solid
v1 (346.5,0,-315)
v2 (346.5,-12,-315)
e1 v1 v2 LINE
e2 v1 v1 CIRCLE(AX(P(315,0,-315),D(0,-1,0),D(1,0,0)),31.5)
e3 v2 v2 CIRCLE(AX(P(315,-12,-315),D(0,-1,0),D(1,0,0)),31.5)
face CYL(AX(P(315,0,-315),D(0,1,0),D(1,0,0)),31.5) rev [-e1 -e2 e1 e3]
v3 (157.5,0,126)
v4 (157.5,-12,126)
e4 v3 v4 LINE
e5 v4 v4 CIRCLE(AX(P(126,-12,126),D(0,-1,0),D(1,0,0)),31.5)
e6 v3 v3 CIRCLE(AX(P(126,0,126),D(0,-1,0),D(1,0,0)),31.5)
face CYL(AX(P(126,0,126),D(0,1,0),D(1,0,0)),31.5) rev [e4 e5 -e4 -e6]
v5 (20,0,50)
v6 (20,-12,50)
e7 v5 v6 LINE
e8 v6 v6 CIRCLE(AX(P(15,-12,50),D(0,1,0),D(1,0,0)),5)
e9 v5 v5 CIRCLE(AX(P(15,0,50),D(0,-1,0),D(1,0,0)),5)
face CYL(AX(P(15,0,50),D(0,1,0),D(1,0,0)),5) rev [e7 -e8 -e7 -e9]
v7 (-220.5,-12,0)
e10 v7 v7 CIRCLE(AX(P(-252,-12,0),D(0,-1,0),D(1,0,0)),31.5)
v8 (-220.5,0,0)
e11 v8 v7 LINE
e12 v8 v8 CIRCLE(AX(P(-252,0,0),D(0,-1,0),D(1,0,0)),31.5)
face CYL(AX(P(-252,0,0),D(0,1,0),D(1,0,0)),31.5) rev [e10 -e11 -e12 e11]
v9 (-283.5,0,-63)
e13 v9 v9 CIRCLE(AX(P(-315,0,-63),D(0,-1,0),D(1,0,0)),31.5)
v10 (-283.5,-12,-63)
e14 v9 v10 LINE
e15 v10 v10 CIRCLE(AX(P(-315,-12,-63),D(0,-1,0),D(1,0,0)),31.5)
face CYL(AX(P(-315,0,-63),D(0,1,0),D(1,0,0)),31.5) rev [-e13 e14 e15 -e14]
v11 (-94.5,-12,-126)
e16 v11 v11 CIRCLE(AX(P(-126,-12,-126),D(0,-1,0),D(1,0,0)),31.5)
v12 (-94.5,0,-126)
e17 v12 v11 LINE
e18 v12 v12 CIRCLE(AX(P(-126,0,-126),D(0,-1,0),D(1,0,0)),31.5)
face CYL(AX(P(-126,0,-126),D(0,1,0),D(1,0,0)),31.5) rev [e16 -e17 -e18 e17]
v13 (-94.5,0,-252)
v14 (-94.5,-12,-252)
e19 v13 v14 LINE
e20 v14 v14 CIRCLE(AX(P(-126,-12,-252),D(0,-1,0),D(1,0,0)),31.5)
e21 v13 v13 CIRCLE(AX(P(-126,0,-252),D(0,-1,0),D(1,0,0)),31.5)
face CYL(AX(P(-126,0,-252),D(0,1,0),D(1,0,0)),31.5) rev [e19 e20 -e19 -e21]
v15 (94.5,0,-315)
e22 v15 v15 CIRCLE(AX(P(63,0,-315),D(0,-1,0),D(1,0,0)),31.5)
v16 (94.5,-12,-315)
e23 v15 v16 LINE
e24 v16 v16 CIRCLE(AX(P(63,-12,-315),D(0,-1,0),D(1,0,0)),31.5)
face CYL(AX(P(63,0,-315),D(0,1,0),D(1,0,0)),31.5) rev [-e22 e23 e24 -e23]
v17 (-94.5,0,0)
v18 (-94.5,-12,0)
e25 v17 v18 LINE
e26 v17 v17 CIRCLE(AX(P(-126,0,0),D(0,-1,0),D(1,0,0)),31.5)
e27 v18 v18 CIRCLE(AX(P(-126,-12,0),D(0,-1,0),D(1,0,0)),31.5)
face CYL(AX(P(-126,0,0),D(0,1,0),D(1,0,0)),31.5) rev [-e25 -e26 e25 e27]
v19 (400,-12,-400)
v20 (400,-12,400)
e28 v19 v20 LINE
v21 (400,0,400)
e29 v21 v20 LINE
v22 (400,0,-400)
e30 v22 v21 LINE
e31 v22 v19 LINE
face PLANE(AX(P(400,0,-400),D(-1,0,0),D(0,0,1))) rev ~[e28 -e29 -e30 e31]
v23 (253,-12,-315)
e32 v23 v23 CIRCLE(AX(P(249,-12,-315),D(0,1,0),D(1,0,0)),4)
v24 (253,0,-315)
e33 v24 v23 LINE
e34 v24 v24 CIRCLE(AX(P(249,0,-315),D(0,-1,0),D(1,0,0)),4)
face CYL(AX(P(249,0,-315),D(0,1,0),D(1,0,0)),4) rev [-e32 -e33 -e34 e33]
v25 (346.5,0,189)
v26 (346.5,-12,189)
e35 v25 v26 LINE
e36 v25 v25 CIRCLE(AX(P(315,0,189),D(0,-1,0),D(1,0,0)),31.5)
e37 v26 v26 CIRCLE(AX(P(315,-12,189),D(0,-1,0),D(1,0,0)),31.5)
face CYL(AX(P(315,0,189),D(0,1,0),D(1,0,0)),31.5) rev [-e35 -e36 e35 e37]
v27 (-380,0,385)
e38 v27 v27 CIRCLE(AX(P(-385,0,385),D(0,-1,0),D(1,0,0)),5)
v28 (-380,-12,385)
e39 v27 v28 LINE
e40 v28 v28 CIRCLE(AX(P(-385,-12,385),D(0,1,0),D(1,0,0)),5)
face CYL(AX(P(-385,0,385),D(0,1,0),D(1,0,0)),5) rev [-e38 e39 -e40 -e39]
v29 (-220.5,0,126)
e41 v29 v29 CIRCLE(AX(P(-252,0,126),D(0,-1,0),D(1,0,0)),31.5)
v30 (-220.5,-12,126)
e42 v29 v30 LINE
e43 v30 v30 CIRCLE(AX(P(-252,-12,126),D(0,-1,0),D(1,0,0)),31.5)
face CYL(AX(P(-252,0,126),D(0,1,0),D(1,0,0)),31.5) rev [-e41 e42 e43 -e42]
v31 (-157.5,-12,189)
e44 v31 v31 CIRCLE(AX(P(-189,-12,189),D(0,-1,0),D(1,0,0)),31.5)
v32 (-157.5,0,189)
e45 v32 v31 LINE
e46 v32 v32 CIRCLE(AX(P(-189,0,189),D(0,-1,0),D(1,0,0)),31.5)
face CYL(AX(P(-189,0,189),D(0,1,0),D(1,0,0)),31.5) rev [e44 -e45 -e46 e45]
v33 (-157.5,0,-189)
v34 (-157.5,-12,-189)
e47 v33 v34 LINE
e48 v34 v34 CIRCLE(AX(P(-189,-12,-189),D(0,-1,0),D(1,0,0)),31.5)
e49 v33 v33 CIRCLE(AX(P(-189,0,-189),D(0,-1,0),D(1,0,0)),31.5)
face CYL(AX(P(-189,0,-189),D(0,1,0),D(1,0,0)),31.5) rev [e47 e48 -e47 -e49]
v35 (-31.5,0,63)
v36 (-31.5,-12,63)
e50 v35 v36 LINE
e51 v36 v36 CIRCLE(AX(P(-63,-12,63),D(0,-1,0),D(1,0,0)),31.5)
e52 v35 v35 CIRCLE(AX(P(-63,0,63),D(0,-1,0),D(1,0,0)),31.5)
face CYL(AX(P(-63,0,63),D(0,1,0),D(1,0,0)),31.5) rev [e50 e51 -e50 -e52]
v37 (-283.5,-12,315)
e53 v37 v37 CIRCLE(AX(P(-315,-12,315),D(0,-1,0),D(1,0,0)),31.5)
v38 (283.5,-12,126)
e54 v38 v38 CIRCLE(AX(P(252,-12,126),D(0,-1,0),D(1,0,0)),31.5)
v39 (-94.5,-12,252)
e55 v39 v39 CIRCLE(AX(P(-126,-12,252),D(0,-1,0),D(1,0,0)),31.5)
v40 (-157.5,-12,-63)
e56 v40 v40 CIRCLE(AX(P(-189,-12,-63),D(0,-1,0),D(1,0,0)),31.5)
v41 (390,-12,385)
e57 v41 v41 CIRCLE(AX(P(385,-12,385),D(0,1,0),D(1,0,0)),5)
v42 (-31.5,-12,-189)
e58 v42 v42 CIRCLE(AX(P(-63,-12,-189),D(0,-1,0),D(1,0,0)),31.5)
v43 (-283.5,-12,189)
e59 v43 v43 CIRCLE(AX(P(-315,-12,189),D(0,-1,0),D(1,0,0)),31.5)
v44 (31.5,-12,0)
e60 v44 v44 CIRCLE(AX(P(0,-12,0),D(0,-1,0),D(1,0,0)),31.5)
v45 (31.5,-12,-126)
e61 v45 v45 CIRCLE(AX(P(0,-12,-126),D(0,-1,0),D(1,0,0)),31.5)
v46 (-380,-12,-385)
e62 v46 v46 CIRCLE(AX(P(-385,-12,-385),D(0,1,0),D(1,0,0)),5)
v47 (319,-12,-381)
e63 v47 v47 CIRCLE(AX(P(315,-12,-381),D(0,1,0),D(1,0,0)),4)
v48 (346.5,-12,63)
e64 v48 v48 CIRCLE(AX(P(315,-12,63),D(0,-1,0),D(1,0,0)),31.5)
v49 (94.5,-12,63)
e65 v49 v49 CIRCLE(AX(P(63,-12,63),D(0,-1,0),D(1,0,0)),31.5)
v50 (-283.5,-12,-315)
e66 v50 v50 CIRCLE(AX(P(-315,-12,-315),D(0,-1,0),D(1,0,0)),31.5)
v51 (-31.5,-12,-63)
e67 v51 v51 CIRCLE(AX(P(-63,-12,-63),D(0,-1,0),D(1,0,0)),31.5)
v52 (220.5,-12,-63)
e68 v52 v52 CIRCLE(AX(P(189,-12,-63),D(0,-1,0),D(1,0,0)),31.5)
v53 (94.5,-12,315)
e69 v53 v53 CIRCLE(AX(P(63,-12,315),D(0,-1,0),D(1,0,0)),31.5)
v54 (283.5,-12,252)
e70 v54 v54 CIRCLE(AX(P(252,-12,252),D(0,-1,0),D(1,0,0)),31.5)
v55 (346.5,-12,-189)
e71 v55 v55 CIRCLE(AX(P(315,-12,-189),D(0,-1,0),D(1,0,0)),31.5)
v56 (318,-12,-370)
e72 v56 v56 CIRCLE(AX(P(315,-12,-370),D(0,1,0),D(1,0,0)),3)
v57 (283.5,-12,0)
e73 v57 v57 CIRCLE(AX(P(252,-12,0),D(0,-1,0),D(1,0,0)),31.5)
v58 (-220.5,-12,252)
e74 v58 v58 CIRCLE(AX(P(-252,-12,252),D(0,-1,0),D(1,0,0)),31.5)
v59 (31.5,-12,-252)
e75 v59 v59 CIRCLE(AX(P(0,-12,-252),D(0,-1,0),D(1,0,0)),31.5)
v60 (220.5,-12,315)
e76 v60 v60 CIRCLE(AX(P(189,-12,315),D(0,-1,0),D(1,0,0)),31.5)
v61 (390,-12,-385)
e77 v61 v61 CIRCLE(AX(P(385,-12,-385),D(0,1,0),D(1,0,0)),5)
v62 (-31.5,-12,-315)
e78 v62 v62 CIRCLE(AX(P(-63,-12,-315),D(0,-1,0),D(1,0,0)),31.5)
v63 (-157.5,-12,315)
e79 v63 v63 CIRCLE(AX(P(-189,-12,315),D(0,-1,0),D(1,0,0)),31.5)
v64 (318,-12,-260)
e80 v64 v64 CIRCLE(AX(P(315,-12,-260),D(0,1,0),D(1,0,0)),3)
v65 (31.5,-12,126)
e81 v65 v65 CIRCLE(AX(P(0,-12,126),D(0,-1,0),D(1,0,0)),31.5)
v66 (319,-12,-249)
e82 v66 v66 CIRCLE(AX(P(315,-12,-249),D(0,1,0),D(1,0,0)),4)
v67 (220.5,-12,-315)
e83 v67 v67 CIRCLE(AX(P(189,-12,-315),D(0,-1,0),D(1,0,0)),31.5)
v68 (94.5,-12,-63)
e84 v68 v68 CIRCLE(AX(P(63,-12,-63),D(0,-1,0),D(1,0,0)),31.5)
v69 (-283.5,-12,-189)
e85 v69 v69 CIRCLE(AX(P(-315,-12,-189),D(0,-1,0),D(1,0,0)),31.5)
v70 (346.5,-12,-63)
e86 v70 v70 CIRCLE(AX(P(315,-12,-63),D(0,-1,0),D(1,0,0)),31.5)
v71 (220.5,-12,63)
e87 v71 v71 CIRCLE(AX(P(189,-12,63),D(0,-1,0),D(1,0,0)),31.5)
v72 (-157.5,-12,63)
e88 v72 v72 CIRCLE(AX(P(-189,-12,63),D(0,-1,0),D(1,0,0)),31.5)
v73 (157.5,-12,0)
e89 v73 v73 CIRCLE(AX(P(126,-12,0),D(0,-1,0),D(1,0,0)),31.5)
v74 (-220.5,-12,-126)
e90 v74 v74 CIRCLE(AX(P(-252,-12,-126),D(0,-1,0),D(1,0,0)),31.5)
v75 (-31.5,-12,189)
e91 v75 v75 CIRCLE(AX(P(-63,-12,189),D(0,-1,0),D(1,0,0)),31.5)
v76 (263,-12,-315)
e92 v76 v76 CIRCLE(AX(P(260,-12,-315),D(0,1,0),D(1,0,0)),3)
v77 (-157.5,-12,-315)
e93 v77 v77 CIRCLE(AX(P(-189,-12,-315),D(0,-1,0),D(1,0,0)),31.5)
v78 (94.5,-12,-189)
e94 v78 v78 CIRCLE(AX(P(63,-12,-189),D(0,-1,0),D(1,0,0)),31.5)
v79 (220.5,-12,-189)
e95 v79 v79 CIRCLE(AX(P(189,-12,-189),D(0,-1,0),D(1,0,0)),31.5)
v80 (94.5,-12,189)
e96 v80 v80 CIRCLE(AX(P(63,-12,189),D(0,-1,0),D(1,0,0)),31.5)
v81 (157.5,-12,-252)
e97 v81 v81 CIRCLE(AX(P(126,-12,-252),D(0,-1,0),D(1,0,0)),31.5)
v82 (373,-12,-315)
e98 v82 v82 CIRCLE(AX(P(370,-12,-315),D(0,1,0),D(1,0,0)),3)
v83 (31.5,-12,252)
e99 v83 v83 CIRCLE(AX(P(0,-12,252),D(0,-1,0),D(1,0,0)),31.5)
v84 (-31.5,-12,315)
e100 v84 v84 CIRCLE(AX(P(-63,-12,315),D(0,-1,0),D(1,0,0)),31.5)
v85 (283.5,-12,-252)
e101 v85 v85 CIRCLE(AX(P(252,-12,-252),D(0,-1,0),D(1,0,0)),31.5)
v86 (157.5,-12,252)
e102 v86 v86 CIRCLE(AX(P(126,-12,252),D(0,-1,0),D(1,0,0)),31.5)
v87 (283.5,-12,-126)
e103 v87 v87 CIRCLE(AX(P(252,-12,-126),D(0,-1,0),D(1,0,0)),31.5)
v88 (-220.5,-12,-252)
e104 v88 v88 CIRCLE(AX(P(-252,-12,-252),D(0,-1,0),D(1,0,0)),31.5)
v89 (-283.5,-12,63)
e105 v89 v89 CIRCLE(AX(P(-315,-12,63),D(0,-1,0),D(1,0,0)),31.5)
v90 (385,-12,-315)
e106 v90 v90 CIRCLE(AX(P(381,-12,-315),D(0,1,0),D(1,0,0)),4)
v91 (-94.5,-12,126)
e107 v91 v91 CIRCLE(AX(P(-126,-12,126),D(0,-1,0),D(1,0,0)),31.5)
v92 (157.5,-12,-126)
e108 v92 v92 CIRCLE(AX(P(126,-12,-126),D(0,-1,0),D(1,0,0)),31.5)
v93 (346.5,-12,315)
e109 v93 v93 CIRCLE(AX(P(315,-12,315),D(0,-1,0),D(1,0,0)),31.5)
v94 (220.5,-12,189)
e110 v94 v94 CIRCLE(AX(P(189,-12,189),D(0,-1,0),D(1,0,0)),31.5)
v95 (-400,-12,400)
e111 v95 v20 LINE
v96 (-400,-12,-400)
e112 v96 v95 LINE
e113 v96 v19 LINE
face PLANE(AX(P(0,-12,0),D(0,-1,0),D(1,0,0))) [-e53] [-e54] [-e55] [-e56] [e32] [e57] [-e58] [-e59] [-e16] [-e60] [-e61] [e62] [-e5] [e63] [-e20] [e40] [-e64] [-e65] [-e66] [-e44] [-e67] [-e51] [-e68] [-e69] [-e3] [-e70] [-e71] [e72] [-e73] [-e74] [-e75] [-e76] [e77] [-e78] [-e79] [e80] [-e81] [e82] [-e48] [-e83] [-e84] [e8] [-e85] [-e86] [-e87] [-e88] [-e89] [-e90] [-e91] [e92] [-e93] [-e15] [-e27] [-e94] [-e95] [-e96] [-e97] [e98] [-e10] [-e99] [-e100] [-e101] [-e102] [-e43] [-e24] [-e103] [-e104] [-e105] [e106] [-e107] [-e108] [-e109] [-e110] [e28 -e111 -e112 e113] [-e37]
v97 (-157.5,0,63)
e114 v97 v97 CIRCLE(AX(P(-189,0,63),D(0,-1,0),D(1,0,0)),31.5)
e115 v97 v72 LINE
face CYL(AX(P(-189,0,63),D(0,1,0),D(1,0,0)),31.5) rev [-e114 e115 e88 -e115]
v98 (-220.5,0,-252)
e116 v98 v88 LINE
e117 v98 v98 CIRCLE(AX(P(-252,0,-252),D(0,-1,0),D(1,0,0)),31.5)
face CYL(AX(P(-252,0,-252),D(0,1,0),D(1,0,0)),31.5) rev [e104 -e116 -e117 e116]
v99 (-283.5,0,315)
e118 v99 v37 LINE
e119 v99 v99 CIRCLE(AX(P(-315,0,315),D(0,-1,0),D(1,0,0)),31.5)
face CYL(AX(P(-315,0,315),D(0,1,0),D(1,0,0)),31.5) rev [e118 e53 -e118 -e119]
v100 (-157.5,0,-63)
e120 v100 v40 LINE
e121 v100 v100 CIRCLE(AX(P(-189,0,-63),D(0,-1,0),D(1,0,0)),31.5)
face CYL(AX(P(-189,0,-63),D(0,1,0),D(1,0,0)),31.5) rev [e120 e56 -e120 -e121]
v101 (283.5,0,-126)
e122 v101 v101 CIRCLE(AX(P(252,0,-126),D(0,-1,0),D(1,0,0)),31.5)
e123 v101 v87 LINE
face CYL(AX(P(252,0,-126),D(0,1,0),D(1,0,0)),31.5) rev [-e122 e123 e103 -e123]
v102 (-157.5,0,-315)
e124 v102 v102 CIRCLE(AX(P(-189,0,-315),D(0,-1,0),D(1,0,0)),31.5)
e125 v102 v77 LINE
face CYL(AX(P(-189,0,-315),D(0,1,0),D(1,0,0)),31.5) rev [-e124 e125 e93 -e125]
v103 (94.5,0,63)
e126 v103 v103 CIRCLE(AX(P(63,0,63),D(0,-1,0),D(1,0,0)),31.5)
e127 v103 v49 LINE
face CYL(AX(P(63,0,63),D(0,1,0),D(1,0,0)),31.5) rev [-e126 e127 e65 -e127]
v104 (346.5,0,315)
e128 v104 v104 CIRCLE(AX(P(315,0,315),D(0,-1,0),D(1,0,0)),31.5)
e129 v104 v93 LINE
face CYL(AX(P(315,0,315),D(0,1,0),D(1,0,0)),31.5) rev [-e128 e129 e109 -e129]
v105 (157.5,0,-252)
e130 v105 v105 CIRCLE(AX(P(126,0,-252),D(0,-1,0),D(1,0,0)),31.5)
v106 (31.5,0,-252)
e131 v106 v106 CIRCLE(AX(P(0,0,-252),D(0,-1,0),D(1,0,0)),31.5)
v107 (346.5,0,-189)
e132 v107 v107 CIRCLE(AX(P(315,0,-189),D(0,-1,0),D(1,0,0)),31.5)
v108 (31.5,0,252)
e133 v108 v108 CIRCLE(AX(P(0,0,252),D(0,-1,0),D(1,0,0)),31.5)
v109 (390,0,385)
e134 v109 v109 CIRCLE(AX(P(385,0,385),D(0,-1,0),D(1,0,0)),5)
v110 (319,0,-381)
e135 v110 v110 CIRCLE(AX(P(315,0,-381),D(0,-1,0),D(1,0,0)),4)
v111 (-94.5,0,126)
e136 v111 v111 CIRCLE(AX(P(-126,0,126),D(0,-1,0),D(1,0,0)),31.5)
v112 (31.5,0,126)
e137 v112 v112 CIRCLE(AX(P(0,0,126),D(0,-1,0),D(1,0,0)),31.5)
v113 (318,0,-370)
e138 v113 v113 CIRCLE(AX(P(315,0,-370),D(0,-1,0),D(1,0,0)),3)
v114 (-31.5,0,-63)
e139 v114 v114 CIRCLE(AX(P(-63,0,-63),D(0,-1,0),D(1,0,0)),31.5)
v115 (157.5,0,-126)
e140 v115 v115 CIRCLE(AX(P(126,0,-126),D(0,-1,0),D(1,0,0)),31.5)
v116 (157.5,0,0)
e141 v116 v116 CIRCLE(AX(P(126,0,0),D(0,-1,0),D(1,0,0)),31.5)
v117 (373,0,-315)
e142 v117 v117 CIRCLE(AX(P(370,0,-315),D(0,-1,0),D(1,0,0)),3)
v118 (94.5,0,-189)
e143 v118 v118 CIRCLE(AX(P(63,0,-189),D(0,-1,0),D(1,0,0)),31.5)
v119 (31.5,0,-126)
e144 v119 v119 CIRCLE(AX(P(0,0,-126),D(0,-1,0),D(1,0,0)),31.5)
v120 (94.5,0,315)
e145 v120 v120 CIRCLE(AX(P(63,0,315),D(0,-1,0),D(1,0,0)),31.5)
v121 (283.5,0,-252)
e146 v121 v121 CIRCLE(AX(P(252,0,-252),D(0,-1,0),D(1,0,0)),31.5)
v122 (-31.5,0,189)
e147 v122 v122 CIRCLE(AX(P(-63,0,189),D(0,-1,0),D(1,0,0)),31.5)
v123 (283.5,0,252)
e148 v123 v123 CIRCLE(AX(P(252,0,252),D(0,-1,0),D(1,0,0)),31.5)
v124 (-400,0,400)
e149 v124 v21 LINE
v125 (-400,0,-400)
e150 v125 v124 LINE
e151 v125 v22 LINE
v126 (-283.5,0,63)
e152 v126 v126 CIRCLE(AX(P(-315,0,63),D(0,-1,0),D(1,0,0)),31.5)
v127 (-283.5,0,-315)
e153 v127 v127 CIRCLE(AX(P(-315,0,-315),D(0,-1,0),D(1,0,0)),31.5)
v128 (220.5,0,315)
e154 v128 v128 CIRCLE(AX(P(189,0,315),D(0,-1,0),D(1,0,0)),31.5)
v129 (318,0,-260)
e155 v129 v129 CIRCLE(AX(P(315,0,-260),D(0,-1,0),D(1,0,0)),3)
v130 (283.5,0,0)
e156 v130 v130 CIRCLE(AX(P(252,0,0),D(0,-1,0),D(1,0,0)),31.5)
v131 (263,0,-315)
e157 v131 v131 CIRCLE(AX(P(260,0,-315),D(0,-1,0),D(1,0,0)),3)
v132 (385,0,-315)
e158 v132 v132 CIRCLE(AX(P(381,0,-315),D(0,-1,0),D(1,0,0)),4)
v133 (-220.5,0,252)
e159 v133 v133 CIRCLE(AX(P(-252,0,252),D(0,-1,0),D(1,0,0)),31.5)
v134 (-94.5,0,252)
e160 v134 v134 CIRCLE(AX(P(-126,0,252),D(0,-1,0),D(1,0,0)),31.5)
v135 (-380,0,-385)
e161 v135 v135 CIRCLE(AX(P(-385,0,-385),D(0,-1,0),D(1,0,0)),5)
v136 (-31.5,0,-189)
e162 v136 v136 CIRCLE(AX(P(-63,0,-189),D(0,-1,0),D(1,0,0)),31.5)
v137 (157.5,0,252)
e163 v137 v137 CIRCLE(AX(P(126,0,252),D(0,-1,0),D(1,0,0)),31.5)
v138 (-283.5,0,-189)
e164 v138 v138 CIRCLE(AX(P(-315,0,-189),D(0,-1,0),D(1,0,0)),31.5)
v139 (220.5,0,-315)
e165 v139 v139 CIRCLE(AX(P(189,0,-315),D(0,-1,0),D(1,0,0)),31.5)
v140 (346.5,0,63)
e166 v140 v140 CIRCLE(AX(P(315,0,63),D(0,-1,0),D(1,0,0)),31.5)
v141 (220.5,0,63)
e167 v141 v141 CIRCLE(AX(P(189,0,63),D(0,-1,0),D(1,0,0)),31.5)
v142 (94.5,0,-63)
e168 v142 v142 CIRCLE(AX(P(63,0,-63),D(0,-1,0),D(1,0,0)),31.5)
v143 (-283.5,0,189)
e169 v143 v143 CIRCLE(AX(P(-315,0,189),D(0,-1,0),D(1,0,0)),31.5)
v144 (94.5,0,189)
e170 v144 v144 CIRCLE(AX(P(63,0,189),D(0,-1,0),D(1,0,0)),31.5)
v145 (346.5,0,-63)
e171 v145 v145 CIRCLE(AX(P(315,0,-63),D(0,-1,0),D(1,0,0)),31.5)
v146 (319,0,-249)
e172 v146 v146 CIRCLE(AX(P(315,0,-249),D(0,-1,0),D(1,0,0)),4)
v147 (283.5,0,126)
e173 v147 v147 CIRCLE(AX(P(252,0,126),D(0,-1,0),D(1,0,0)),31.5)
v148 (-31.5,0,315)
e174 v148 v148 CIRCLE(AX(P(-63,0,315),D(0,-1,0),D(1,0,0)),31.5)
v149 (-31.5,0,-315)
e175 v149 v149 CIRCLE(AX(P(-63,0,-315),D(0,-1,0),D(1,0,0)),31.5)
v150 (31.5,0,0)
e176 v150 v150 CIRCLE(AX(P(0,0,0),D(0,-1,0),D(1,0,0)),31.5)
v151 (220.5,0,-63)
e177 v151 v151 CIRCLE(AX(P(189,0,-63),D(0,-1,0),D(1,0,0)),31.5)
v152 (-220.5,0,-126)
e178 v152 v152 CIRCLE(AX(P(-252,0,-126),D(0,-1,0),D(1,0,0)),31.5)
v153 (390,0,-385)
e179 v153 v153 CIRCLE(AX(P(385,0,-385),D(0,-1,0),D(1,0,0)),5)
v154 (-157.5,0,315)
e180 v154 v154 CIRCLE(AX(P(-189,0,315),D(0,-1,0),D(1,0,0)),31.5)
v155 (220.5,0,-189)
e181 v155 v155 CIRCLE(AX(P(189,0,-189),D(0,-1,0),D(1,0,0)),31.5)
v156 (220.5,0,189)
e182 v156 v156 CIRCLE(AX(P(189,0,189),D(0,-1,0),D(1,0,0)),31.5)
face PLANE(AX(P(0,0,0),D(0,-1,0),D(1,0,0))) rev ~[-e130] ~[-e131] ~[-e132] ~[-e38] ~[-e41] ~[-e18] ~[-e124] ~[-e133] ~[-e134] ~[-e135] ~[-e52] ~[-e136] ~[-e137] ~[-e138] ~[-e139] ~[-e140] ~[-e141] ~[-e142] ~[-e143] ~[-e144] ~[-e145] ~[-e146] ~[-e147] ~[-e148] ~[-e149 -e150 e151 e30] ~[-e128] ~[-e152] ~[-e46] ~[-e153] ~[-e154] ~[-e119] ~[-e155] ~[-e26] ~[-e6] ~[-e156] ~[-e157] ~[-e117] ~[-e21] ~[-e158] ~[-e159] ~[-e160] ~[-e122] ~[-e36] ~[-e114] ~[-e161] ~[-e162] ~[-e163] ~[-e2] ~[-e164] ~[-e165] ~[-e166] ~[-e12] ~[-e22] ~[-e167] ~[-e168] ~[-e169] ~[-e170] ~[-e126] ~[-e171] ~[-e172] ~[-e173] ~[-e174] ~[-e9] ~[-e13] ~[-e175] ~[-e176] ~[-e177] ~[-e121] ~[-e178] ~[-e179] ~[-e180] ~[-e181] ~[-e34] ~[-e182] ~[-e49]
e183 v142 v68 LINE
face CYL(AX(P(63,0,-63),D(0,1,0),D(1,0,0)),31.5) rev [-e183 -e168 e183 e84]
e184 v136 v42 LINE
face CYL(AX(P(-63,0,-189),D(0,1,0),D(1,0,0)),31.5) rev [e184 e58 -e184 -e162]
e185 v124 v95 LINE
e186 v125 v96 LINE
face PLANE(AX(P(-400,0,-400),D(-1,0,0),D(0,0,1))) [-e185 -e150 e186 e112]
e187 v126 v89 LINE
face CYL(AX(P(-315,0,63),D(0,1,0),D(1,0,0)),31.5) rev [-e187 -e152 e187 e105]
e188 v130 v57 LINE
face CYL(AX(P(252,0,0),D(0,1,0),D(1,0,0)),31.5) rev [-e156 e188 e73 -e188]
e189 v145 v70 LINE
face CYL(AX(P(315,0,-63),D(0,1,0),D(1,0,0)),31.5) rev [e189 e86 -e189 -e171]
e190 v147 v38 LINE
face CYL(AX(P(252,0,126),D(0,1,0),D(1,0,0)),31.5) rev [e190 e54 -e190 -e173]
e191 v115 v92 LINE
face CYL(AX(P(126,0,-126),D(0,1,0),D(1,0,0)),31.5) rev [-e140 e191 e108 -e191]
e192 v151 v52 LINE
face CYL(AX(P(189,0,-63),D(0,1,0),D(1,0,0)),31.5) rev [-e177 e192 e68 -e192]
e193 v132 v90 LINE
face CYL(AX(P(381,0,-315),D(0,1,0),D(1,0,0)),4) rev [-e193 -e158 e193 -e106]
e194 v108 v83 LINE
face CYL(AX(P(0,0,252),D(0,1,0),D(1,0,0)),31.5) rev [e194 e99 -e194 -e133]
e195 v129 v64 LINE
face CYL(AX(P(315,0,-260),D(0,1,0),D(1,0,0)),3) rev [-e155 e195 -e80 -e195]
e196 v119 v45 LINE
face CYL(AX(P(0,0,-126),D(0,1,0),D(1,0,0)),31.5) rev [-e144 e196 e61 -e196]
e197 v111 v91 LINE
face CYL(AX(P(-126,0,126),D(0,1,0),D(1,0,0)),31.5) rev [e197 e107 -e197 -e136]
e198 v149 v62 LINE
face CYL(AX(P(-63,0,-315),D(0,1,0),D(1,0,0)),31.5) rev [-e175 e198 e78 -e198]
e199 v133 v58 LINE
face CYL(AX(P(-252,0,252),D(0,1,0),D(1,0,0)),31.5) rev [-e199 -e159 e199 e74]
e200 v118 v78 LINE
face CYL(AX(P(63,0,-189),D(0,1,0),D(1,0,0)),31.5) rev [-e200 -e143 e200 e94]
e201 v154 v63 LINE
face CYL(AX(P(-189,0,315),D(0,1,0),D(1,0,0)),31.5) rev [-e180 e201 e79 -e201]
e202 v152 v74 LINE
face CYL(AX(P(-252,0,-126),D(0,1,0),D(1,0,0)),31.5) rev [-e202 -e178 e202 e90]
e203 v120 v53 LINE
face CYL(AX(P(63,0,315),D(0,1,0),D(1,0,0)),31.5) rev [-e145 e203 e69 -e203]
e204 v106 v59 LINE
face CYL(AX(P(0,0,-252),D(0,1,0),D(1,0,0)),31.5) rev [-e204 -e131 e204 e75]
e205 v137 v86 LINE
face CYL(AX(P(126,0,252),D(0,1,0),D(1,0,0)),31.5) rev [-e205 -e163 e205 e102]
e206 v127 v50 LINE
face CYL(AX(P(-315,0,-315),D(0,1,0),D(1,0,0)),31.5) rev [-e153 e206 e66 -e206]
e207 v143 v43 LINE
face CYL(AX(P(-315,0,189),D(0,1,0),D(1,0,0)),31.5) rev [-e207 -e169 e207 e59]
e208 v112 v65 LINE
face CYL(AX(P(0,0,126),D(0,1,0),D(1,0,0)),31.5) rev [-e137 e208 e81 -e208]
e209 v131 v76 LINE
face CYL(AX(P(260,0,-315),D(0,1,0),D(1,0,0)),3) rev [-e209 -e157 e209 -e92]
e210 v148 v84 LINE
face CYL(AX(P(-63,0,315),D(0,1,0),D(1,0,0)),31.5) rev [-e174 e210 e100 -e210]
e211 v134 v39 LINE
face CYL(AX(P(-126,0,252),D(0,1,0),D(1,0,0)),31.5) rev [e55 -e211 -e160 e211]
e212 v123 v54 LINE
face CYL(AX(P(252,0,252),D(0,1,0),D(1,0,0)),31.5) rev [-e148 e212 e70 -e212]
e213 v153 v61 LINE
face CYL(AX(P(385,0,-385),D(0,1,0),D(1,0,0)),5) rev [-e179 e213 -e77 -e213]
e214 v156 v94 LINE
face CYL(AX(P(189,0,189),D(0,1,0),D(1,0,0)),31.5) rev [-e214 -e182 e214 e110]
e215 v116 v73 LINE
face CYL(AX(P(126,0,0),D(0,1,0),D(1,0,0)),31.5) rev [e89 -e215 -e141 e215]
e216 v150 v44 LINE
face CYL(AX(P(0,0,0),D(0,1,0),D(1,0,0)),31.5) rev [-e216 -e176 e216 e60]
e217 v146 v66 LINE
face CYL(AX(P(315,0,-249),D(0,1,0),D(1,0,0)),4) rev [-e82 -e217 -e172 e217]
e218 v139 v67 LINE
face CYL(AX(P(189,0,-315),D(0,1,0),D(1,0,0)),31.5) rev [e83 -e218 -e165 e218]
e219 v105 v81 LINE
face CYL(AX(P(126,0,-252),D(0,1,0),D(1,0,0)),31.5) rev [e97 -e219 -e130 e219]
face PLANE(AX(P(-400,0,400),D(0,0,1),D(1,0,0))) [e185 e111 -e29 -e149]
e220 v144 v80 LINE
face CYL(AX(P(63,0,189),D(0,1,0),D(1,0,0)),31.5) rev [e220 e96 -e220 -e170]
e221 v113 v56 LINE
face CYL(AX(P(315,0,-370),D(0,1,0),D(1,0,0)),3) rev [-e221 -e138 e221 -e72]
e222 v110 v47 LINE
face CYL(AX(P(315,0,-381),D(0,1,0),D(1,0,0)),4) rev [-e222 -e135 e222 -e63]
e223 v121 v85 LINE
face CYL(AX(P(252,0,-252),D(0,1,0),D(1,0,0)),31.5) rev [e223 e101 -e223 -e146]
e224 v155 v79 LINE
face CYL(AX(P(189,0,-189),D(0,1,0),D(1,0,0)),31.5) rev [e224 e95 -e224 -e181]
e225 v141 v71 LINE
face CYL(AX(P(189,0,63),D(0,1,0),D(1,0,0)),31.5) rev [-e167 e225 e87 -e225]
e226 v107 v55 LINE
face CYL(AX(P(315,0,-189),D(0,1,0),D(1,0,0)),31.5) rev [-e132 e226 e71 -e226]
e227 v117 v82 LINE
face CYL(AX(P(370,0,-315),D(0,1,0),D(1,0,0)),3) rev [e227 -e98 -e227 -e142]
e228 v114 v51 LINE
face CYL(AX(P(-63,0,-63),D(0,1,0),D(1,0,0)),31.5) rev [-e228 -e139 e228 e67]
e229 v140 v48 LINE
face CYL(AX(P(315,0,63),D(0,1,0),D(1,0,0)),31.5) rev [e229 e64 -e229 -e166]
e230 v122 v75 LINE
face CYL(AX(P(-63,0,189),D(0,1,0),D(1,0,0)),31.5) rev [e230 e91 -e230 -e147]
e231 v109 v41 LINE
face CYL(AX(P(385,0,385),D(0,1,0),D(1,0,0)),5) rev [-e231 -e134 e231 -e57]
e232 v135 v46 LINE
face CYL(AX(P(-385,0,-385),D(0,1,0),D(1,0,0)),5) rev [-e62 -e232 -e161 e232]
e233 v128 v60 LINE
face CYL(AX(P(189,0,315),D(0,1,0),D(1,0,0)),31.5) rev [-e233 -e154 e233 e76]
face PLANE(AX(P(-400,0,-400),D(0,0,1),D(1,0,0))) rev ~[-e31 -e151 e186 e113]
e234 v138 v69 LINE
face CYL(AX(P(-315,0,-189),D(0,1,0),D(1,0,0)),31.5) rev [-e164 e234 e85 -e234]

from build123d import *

# Parameters (mm, degrees)
F0_W     = 800
F0_H     = 800
F0_R     = 31.5
F1_DEPTH = 12
F2_R     = 4
F2_R_2   = 3
F3_DEPTH = 12.001
F4_R     = 5
F5_DEPTH = 12.001


with BuildPart() as f1:
    # F0 (on Front) → F1 (new body)
    with BuildSketch(Plane.XZ):
        Rectangle(F0_W, F0_H)
        with Locations((-315, -315)):
            Circle(F0_R, mode=Mode.SUBTRACT)
        with Locations((-252, -252)):
            Circle(F0_R, mode=Mode.SUBTRACT)
        with Locations((-189, -315)):
            Circle(F0_R, mode=Mode.SUBTRACT)
        with Locations((-63, -315)):
            Circle(F0_R, mode=Mode.SUBTRACT)
        with Locations((-126, -252)):
            Circle(F0_R, mode=Mode.SUBTRACT)
        with Locations((-315, -189)):
            Circle(F0_R, mode=Mode.SUBTRACT)
        with Locations((-252, -126)):
            Circle(F0_R, mode=Mode.SUBTRACT)
        with Locations((-315, -63)):
            Circle(F0_R, mode=Mode.SUBTRACT)
        with Locations((-189, -189)):
            Circle(F0_R, mode=Mode.SUBTRACT)
        with Locations((-126, -126)):
            Circle(F0_R, mode=Mode.SUBTRACT)
        with Locations((-63, -189)):
            Circle(F0_R, mode=Mode.SUBTRACT)
        with Locations((-189, -63)):
            Circle(F0_R, mode=Mode.SUBTRACT)
        with Locations((-63, -63)):
            Circle(F0_R, mode=Mode.SUBTRACT)
        with Locations((63, -315)):
            Circle(F0_R, mode=Mode.SUBTRACT)
        with Locations((189, -315)):
            Circle(F0_R, mode=Mode.SUBTRACT)
        with Locations((0, -252)):
            Circle(F0_R, mode=Mode.SUBTRACT)
        with Locations((126, -252)):
            Circle(F0_R, mode=Mode.SUBTRACT)
        with Locations((315, -315)):
            Circle(F0_R, mode=Mode.SUBTRACT)
        with Locations((252, -252)):
            Circle(F0_R, mode=Mode.SUBTRACT)
        with Locations((63, -189)):
            Circle(F0_R, mode=Mode.SUBTRACT)
        with Locations((0, -126)):
            Circle(F0_R, mode=Mode.SUBTRACT)
        with Locations((189, -189)):
            Circle(F0_R, mode=Mode.SUBTRACT)
        with Locations((126, -126)):
            Circle(F0_R, mode=Mode.SUBTRACT)
        with Locations((63, -63)):
            Circle(F0_R, mode=Mode.SUBTRACT)
        with Locations((189, -63)):
            Circle(F0_R, mode=Mode.SUBTRACT)
        with Locations((252, -126)):
            Circle(F0_R, mode=Mode.SUBTRACT)
        with Locations((315, -189)):
            Circle(F0_R, mode=Mode.SUBTRACT)
        with Locations((315, -63)):
            Circle(F0_R, mode=Mode.SUBTRACT)
        with Locations((-315, 63)):
            Circle(F0_R, mode=Mode.SUBTRACT)
        with Locations((-252, 0)):
            Circle(F0_R, mode=Mode.SUBTRACT)
        with Locations((-315, 189)):
            Circle(F0_R, mode=Mode.SUBTRACT)
        with Locations((-252, 126)):
            Circle(F0_R, mode=Mode.SUBTRACT)
        with Locations((-126, 0)):
            Circle(F0_R, mode=Mode.SUBTRACT)
        with Locations((-189, 63)):
            Circle(F0_R, mode=Mode.SUBTRACT)
        with Locations((-63, 63)):
            Circle(F0_R, mode=Mode.SUBTRACT)
        with Locations((-126, 126)):
            Circle(F0_R, mode=Mode.SUBTRACT)
        with Locations((-189, 189)):
            Circle(F0_R, mode=Mode.SUBTRACT)
        with Locations((-63, 189)):
            Circle(F0_R, mode=Mode.SUBTRACT)
        with Locations((-252, 252)):
            Circle(F0_R, mode=Mode.SUBTRACT)
        with Locations((-315, 315)):
            Circle(F0_R, mode=Mode.SUBTRACT)
        with Locations((-126, 252)):
            Circle(F0_R, mode=Mode.SUBTRACT)
        with Locations((-189, 315)):
            Circle(F0_R, mode=Mode.SUBTRACT)
        with Locations((-63, 315)):
            Circle(F0_R, mode=Mode.SUBTRACT)
        Circle(F0_R, mode=Mode.SUBTRACT)
        with Locations((63, 63)):
            Circle(F0_R, mode=Mode.SUBTRACT)
        with Locations((126, 0)):
            Circle(F0_R, mode=Mode.SUBTRACT)
        with Locations((189, 63)):
            Circle(F0_R, mode=Mode.SUBTRACT)
        with Locations((0, 126)):
            Circle(F0_R, mode=Mode.SUBTRACT)
        with Locations((63, 189)):
            Circle(F0_R, mode=Mode.SUBTRACT)
        with Locations((126, 126)):
            Circle(F0_R, mode=Mode.SUBTRACT)
        with Locations((189, 189)):
            Circle(F0_R, mode=Mode.SUBTRACT)
        with Locations((252, 0)):
            Circle(F0_R, mode=Mode.SUBTRACT)
        with Locations((315, 63)):
            Circle(F0_R, mode=Mode.SUBTRACT)
        with Locations((252, 126)):
            Circle(F0_R, mode=Mode.SUBTRACT)
        with Locations((315, 189)):
            Circle(F0_R, mode=Mode.SUBTRACT)
        with Locations((0, 252)):
            Circle(F0_R, mode=Mode.SUBTRACT)
        with Locations((126, 252)):
            Circle(F0_R, mode=Mode.SUBTRACT)
        with Locations((63, 315)):
            Circle(F0_R, mode=Mode.SUBTRACT)
        with Locations((189, 315)):
            Circle(F0_R, mode=Mode.SUBTRACT)
        with Locations((252, 252)):
            Circle(F0_R, mode=Mode.SUBTRACT)
        with Locations((315, 315)):
            Circle(F0_R, mode=Mode.SUBTRACT)
    extrude(amount=F1_DEPTH)

    # F2 (on Front) → F3 (cut, through all)
    with BuildSketch(Plane.XZ):
        with Locations((315, -381)):
            Circle(F2_R)
        with Locations((381, -315)):
            Circle(F2_R)
        with Locations((315, -249)):
            Circle(F2_R)
        with Locations((249, -315)):
            Circle(F2_R)
        with Locations((315, -370)):
            Circle(F2_R_2)
        with Locations((370, -315)):
            Circle(F2_R_2)
        with Locations((315, -260)):
            Circle(F2_R_2)
        with Locations((260, -315)):
            Circle(F2_R_2)
    extrude(amount=F3_DEPTH, mode=Mode.SUBTRACT)

    # F4 (on Front) → F5 (cut, through all)
    with BuildSketch(Plane.XZ):
        with Locations((-385, -385)):
            Circle(F4_R)
        with Locations((-385, 385)):
            Circle(F4_R)
        with Locations((385, -385)):
            Circle(F4_R)
        with Locations((385, 385)):
            Circle(F4_R)
        with Locations((15, 50)):
            Circle(F4_R)
    extrude(amount=F5_DEPTH, mode=Mode.SUBTRACT)


solid = f1.part
